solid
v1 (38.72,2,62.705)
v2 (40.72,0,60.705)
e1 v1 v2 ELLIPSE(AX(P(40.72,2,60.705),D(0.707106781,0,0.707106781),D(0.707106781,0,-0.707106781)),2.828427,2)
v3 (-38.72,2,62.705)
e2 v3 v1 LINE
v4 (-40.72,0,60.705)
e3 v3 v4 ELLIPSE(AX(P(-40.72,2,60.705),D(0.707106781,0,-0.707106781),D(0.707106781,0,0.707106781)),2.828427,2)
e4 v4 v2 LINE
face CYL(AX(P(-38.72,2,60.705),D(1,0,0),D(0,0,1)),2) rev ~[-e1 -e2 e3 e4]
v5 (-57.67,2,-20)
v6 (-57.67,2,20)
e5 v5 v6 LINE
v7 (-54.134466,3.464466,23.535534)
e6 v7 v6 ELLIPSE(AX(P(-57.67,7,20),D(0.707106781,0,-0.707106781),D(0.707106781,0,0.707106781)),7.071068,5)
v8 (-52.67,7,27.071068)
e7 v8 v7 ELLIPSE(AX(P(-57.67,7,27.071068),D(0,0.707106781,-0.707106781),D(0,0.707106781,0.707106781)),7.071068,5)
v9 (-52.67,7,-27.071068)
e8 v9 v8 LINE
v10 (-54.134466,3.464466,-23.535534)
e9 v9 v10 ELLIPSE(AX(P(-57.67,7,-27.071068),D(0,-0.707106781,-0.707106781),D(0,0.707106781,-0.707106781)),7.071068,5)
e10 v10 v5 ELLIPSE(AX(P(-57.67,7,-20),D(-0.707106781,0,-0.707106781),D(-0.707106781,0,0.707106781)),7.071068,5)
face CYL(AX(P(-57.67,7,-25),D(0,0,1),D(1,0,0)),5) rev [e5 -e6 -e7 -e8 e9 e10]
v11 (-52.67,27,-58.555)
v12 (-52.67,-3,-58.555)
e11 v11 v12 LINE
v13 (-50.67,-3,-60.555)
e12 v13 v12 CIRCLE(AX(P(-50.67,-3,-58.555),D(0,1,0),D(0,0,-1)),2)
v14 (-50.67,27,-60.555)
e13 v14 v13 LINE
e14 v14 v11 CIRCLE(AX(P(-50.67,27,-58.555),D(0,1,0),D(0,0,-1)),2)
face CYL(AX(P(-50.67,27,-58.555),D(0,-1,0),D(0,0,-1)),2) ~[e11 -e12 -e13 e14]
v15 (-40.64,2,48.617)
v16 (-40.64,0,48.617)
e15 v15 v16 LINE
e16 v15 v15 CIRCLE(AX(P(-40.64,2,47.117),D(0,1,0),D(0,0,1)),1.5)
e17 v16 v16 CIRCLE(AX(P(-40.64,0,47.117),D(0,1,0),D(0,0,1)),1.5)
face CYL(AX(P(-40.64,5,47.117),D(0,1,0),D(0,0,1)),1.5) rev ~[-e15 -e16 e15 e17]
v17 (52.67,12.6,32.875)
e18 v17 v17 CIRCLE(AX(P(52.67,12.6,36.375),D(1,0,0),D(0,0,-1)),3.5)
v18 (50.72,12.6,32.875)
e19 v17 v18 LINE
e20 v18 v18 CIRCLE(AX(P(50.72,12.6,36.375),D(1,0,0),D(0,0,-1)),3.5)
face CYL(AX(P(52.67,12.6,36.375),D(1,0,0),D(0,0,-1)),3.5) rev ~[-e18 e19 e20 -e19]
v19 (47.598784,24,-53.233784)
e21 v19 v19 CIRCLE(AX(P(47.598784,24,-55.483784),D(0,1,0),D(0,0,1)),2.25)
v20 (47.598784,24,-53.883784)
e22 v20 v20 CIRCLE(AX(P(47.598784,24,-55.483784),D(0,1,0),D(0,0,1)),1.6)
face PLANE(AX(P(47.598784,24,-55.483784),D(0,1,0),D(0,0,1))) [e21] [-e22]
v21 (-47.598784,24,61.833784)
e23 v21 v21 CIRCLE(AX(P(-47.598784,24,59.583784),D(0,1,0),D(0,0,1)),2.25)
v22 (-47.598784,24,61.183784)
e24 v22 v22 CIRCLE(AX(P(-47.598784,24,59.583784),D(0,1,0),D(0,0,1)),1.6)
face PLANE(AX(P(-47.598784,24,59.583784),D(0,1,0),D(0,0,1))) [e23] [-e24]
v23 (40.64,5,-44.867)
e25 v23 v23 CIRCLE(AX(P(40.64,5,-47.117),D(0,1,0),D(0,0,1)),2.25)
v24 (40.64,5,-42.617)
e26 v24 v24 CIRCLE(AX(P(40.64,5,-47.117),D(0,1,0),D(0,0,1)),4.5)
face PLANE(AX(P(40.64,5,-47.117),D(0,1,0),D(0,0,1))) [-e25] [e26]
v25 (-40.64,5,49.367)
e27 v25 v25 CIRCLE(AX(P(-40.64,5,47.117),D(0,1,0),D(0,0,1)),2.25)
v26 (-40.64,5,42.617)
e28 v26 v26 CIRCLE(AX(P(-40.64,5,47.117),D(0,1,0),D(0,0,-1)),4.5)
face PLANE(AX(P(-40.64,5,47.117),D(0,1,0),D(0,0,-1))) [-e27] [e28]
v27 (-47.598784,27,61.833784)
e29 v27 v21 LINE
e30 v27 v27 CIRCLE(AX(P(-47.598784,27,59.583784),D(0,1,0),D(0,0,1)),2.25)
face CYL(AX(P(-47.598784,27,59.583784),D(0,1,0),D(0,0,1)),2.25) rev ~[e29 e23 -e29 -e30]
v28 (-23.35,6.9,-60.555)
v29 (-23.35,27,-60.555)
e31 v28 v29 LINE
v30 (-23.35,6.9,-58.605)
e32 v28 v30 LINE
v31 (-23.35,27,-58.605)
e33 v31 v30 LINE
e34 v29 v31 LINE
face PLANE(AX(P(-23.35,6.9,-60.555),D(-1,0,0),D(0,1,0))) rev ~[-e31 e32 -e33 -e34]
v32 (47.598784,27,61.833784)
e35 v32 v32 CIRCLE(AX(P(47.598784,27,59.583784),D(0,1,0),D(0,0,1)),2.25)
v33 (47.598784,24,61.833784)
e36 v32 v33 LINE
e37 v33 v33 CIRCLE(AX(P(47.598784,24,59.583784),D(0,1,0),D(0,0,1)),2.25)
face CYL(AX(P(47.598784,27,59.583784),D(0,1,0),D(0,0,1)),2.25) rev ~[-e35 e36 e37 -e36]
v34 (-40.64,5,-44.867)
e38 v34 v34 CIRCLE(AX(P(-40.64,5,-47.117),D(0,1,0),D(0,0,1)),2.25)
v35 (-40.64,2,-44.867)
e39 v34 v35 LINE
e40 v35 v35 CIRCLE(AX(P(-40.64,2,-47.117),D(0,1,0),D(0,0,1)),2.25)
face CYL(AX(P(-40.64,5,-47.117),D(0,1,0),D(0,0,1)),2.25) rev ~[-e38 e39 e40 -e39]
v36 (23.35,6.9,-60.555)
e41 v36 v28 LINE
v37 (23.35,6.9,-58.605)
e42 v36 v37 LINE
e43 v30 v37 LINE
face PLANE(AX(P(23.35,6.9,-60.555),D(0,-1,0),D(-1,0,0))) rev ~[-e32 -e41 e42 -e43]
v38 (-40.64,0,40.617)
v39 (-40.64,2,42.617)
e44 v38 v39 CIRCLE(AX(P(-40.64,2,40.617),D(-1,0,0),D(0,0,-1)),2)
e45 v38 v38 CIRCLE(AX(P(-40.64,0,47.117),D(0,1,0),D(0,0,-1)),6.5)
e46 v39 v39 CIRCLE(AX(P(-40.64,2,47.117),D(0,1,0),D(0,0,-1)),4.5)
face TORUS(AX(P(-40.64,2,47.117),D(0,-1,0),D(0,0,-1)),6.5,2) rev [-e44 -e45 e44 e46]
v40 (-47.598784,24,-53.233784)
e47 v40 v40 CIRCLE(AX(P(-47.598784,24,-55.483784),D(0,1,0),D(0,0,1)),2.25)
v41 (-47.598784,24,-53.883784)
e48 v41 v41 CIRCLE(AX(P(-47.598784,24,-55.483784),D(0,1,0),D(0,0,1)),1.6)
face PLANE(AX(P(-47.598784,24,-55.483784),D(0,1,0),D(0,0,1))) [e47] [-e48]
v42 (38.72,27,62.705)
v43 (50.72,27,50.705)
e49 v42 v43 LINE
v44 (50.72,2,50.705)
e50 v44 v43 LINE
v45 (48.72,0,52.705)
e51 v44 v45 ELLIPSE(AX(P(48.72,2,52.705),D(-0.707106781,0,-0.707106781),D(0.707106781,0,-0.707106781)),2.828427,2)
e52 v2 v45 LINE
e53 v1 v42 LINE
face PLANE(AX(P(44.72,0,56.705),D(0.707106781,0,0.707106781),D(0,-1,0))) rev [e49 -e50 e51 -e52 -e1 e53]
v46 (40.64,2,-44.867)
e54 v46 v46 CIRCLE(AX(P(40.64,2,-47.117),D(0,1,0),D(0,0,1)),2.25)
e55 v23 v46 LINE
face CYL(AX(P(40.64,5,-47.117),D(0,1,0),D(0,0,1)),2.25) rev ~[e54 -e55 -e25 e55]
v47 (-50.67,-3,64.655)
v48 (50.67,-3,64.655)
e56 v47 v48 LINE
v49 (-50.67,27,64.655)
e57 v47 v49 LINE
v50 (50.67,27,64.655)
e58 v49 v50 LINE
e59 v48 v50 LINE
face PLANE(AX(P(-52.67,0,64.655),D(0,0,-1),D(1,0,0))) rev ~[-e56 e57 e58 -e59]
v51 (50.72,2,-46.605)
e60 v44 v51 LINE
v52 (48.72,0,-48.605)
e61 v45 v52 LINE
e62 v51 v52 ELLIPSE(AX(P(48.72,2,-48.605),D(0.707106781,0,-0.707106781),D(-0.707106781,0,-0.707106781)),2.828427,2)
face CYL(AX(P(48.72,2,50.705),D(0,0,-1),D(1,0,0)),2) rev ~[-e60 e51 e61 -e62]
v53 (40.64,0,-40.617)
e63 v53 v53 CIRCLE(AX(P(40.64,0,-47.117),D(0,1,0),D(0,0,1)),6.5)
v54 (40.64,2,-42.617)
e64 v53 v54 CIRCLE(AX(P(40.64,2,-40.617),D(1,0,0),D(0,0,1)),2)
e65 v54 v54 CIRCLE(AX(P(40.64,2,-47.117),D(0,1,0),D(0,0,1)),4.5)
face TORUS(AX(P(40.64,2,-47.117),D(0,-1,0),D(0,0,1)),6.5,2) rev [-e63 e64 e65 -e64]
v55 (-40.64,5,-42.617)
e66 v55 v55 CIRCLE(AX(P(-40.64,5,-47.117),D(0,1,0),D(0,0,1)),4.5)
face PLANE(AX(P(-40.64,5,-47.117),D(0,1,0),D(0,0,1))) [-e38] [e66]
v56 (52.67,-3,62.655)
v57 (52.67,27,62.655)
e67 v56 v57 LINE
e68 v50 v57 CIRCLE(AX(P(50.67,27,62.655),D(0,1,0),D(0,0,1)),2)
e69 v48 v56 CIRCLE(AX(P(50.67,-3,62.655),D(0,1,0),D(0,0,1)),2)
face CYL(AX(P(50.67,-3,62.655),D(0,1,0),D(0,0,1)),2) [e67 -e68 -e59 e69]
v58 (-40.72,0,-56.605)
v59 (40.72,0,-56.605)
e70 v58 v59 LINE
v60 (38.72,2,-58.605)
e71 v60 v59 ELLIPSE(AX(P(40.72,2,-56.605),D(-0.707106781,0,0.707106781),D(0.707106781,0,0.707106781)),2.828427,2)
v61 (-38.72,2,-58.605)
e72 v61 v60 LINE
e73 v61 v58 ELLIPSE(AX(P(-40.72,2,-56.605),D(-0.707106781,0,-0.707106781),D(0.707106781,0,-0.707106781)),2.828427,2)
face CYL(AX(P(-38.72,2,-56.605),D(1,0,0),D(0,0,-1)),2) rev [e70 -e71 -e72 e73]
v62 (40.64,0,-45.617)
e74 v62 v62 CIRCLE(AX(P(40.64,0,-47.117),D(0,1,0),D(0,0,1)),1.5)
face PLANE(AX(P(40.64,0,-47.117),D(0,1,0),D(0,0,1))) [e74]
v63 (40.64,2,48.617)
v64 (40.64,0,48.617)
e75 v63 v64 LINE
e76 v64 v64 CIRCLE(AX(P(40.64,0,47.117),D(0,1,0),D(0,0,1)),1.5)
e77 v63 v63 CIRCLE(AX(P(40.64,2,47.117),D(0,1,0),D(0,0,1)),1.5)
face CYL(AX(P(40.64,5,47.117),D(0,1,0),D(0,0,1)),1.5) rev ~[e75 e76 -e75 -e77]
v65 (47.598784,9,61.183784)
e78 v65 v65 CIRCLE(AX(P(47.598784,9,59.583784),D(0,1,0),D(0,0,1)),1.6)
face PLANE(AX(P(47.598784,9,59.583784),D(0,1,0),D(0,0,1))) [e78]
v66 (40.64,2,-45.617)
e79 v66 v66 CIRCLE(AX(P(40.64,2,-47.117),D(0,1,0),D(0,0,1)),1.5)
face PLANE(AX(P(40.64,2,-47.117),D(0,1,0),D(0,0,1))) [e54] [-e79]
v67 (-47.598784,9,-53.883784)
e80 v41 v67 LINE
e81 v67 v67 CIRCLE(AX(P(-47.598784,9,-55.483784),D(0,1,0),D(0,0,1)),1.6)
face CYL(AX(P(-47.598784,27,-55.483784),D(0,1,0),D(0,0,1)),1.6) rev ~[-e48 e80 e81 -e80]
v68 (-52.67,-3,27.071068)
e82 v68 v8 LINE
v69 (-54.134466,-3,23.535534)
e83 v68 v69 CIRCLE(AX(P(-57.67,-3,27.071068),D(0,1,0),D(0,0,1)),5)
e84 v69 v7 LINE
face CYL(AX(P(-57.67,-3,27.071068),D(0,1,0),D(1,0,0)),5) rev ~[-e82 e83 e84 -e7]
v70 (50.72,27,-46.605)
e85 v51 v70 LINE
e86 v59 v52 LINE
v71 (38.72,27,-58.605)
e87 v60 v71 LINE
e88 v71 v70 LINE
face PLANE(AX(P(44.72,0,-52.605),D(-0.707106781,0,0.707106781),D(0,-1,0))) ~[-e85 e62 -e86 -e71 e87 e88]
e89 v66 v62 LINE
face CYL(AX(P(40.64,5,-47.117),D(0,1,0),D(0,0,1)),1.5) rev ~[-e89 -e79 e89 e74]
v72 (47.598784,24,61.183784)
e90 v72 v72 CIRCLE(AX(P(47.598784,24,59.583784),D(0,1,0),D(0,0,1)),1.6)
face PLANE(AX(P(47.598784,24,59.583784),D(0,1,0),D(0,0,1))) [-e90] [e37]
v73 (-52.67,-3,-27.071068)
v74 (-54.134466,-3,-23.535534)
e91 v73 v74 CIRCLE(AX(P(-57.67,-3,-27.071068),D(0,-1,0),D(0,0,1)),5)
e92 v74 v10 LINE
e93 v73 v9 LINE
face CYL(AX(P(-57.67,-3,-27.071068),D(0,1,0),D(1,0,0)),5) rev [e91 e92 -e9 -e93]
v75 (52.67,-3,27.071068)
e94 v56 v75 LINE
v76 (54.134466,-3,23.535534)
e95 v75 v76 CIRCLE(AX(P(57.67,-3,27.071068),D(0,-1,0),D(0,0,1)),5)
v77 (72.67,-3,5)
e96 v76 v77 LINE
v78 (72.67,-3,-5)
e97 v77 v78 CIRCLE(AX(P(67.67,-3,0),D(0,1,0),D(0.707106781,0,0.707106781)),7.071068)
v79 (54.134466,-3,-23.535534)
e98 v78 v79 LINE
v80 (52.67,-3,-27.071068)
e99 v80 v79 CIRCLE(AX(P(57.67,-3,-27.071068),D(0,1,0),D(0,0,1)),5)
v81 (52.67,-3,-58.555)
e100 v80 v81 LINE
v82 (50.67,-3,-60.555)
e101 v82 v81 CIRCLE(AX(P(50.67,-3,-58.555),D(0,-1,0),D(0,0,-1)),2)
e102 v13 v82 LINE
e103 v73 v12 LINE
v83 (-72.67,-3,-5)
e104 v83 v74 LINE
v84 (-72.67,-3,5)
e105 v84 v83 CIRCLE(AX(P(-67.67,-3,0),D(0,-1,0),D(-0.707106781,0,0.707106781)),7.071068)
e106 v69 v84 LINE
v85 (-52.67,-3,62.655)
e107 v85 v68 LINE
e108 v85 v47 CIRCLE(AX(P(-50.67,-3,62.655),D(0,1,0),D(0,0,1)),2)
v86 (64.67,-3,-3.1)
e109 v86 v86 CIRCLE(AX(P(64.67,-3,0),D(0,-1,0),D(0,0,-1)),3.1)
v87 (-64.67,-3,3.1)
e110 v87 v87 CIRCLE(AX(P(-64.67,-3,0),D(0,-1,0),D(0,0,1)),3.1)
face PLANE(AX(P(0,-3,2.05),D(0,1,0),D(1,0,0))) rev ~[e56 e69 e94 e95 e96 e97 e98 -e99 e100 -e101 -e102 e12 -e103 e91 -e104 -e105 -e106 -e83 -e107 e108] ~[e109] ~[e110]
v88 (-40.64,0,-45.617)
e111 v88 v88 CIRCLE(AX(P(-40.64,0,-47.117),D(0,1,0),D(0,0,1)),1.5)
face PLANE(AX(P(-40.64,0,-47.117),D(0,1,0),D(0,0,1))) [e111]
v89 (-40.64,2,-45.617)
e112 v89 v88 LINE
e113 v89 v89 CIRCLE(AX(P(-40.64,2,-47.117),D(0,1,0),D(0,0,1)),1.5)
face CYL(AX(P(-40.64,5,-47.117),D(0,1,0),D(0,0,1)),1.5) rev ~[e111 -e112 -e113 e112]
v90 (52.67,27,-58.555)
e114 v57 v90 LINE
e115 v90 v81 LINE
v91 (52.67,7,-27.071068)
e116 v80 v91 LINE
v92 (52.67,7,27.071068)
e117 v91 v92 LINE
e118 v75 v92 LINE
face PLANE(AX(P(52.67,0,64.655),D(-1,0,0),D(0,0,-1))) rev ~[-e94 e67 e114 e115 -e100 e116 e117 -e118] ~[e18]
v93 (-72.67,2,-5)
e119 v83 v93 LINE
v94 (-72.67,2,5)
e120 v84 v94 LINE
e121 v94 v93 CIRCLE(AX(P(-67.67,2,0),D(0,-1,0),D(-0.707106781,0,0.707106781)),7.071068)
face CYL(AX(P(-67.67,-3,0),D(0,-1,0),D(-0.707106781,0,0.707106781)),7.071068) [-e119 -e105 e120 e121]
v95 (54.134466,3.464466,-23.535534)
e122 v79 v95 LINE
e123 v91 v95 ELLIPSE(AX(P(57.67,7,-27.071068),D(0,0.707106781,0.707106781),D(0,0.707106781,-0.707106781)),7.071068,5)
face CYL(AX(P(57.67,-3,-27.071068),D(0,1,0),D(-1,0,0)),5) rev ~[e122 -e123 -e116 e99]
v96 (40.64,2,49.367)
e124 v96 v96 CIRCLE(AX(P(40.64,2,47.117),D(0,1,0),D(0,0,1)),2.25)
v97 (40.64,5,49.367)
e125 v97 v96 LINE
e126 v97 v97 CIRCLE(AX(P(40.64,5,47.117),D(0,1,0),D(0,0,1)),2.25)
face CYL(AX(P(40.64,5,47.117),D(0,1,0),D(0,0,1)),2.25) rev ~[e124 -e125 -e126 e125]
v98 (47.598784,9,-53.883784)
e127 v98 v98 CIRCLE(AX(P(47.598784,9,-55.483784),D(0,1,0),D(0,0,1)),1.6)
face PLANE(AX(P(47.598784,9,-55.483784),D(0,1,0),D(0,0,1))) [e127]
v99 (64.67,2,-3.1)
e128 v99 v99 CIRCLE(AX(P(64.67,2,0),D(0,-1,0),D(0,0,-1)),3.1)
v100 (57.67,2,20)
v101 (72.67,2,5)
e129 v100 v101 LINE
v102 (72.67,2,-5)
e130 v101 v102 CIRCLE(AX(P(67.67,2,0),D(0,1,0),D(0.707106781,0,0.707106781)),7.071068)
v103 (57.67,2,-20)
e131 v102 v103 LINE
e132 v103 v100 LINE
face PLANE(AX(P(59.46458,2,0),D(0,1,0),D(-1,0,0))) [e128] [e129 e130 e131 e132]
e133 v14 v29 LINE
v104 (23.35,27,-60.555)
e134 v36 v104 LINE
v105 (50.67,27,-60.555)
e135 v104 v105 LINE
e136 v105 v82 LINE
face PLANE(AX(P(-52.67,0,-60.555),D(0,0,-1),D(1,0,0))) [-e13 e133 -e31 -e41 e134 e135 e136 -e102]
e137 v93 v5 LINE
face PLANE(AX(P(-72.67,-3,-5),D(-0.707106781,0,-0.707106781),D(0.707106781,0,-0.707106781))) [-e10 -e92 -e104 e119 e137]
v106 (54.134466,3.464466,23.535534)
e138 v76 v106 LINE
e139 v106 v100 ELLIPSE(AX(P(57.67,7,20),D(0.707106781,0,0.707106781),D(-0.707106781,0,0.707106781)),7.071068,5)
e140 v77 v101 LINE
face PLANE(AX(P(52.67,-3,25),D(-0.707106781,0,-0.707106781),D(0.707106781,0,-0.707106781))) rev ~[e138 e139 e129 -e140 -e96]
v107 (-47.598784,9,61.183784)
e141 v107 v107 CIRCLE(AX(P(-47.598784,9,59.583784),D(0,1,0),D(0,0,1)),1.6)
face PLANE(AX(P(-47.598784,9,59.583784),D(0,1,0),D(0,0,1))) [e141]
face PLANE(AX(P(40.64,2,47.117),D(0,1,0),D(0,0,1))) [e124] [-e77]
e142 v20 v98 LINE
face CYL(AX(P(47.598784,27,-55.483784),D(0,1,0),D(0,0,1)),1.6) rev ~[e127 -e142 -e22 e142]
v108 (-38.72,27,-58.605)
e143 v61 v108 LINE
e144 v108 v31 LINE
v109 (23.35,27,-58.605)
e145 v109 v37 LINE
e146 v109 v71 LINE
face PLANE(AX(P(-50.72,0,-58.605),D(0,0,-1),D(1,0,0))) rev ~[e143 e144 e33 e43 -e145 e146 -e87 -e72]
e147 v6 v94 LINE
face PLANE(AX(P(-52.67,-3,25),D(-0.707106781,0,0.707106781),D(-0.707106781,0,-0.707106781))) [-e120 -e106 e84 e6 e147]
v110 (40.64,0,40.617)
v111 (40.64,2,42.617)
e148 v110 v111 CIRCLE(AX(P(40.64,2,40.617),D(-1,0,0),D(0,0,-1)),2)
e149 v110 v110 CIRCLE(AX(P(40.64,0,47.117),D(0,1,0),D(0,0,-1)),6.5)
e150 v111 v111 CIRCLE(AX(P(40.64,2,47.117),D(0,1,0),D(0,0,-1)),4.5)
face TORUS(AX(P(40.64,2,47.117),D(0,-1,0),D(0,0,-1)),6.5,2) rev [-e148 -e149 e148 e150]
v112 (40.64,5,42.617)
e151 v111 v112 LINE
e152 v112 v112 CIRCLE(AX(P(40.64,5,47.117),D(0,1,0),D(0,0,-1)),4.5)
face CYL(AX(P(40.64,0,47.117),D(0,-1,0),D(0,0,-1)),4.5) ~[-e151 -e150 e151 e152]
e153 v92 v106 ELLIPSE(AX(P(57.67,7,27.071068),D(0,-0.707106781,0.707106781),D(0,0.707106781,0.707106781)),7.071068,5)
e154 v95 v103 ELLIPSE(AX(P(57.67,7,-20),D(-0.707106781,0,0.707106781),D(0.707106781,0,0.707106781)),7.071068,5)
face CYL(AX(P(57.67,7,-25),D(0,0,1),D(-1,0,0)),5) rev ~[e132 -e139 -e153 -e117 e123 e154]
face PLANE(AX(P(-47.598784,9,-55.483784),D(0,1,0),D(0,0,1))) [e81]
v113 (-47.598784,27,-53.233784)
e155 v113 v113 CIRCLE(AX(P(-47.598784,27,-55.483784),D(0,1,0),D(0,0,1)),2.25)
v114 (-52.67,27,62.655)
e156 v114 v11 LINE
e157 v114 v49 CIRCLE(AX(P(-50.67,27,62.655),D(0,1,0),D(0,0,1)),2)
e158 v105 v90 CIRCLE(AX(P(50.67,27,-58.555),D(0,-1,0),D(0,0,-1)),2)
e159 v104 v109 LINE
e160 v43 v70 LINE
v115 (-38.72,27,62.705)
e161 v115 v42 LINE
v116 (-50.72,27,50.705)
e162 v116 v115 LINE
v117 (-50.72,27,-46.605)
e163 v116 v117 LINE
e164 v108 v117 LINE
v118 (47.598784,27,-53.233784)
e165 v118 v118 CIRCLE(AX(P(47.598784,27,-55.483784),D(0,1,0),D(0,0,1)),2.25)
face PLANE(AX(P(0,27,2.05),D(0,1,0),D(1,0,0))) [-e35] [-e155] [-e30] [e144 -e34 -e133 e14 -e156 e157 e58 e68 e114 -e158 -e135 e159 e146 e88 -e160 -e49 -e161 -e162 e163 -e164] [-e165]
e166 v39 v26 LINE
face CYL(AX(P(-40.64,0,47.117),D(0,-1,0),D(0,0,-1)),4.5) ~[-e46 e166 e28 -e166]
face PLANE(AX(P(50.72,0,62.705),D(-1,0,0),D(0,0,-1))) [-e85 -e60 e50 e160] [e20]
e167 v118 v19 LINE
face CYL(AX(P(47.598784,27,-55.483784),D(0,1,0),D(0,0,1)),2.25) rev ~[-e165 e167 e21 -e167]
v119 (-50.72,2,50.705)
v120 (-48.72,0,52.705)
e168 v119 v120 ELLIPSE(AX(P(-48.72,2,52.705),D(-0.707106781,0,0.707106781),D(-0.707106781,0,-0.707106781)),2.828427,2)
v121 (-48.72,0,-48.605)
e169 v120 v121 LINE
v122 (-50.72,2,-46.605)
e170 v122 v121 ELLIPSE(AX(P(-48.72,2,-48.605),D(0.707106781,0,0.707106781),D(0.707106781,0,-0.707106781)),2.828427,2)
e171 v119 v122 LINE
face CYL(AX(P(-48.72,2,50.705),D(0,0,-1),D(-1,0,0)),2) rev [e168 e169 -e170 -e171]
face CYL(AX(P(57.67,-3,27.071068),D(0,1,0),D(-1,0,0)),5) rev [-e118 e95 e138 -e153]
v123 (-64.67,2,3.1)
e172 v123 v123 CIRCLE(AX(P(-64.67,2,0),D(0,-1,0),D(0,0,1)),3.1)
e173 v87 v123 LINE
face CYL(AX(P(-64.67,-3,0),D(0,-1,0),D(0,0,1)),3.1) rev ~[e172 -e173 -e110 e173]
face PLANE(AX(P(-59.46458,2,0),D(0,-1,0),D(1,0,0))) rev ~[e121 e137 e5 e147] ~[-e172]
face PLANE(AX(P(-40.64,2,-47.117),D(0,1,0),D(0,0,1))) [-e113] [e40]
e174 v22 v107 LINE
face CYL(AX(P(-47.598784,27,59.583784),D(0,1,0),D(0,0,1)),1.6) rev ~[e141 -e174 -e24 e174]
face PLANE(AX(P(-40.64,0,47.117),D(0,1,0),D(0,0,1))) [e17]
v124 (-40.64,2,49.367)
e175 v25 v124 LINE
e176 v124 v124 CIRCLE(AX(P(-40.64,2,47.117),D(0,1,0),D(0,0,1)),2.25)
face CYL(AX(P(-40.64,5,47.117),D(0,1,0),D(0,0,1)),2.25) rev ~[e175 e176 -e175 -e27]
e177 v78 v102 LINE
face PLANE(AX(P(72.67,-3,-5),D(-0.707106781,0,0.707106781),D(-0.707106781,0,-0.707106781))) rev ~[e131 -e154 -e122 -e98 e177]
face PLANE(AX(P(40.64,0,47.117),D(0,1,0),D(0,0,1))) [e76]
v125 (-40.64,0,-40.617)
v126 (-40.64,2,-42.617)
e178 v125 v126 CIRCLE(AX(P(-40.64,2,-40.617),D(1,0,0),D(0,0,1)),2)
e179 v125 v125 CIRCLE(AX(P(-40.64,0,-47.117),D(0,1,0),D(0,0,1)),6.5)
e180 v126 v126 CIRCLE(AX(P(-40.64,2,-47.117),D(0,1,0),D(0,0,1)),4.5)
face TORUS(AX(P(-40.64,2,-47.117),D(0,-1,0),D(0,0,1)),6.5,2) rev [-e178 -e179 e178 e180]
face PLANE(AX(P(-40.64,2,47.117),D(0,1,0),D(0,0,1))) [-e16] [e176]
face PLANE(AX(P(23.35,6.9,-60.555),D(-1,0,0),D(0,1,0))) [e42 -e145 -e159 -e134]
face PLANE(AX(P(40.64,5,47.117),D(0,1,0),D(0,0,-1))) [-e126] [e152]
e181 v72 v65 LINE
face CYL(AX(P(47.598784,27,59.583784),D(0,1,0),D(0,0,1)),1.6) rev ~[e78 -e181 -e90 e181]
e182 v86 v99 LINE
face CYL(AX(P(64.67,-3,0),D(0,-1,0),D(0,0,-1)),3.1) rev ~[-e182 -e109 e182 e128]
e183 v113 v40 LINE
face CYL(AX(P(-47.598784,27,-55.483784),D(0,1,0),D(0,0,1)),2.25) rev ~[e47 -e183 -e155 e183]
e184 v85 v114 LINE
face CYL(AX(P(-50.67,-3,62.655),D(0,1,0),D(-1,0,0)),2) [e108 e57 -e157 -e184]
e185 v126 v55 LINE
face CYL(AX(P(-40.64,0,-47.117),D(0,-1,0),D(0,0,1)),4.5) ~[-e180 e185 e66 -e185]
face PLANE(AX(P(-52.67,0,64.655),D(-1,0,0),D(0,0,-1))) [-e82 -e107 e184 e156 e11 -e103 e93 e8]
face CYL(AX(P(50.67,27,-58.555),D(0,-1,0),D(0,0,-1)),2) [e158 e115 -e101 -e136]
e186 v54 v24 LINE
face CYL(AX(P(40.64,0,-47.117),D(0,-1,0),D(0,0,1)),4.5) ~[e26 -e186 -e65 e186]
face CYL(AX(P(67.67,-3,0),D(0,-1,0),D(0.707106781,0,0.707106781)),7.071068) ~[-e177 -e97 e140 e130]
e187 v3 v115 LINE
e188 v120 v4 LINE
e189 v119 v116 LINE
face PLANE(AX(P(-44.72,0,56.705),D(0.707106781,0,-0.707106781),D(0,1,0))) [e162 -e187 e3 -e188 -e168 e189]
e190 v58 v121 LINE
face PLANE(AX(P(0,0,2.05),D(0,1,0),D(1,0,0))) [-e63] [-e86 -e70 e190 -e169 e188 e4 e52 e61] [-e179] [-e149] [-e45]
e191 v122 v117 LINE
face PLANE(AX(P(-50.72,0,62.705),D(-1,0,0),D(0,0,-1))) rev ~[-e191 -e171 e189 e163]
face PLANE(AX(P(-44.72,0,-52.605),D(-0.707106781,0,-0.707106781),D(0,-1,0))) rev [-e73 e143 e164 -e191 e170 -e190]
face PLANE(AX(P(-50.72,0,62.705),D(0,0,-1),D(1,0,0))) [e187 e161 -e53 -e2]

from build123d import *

# Parameters (mm, degrees)
ESQUISSE2_W              = 105.34
ESQUISSE2_H              = 125.21
ESQUISSE2_W_2            = 101.44
ESQUISSE2_H_2            = 121.31
BASE_DEPTH               = 3
ESQUISSE3_R              = 4.5
SUPPORT_PCB_DEPTH        = 5
ESQUISSE4_R              = 2.25
ESQUISSE4_R_2            = 1.5
INSERT_M3_PCB_DEPTH      = 3
ESQUISSE4_3_R            = 1.5
PASSAGE_M3_PCB_DEPTH     = 5
ESQUISSE2_4_W            = 105.34
ESQUISSE2_4_H            = 125.21
ESQUISSE2_4_W_2          = 101.44
ESQUISSE2_4_H_2          = 121.31
WALLS_DEPTH              = 27
OUVERTURE_CONN_CMC_REACH = 140.494
ESQUISSE5_W              = 46.7
ESQUISSE5_H              = 20.1
CHANFREIN1_SIZE          = 12
CONG_1_R                 = 2
ESQUISSE6_R              = 2.25
INSERT_M3_BOX_DEPTH      = 3
ESQUISSE6_3_R            = 1.6
PASSAGE_M3_BOX_DEPTH     = 18
ESQUISSE10_R             = 3.1
BOSS_EXTRU_2_DEPTH       = 5
CONG_4_R                 = 5
PASSAGE_MAP_REACH        = 147.406
ESQUISSE11_R             = 3.5


with BuildPart() as part:
    # Esquisse2 → Base (new body)
    # profile 1 of 2: a face of its own
    with BuildSketch(Plane(origin=(0, 0, 0), x_dir=(1, 0, 0), z_dir=(0, 1, 0))):
        with Locations((0, -2.05)):
            Rectangle(ESQUISSE2_W, ESQUISSE2_H)
        with Locations((0, -2.05)):
            Rectangle(ESQUISSE2_W_2, ESQUISSE2_H_2, mode=Mode.SUBTRACT)
    # profile 2 of 2: a face of its own
    with BuildSketch(Plane(origin=(0, 0, 0), x_dir=(1, 0, 0), z_dir=(0, 1, 0))):
        with Locations((0, -2.05)):
            Rectangle(ESQUISSE2_W_2, ESQUISSE2_H_2)
    extrude(amount=-BASE_DEPTH)

    # Esquisse3 → Support_PCB (add)
    with BuildSketch(Plane(origin=(0, 0, 0), x_dir=(1, 0, 0), z_dir=(0, 1, 0))):
        with Locations(Location((-40.64, 47.117, 0), (0, 0, 270))):
            Circle(ESQUISSE3_R)
        with Locations(Location((40.64, 47.117, 0), (0, 0, 270))):
            Circle(ESQUISSE3_R)
        with Locations(Location((-40.64, -47.117, 0), (0, 0, 90))):
            Circle(ESQUISSE3_R)
        with Locations(Location((40.64, -47.117, 0), (0, 0, 90))):
            Circle(ESQUISSE3_R)
    extrude(amount=SUPPORT_PCB_DEPTH)

    # Esquisse4 → Insert_M3_PCB (cut)
    # profile 1 of 8: a face of its own
    with BuildSketch(Plane(origin=(0, 5, 0), x_dir=(1, 0, 0), z_dir=(0, 1, 0))):
        with Locations(Location((-40.64, 47.117, 0), (0, 0, 270))):
            Circle(ESQUISSE4_R)
        with Locations((-40.64, 47.117)):
            Circle(ESQUISSE4_R_2, mode=Mode.SUBTRACT)
    # profile 2 of 8: a face of its own
    with BuildSketch(Plane(origin=(0, 5, 0), x_dir=(1, 0, 0), z_dir=(0, 1, 0))):
        with Locations((-40.64, 47.117)):
            Circle(ESQUISSE4_R_2)
    # profile 3 of 8: a face of its own
    with BuildSketch(Plane(origin=(0, 5, 0), x_dir=(1, 0, 0), z_dir=(0, 1, 0))):
        with Locations(Location((40.64, 47.117, 0), (0, 0, 270))):
            Circle(ESQUISSE4_R)
        with Locations((40.64, 47.117)):
            Circle(ESQUISSE4_R_2, mode=Mode.SUBTRACT)
    # profile 4 of 8: a face of its own
    with BuildSketch(Plane(origin=(0, 5, 0), x_dir=(1, 0, 0), z_dir=(0, 1, 0))):
        with Locations((40.64, 47.117)):
            Circle(ESQUISSE4_R_2)
    # profile 5 of 8: a face of its own
    with BuildSketch(Plane(origin=(0, 5, 0), x_dir=(1, 0, 0), z_dir=(0, 1, 0))):
        with Locations(Location((40.64, -47.117, 0), (0, 0, 270))):
            Circle(ESQUISSE4_R)
        with Locations((40.64, -47.117)):
            Circle(ESQUISSE4_R_2, mode=Mode.SUBTRACT)
    # profile 6 of 8: a face of its own
    with BuildSketch(Plane(origin=(0, 5, 0), x_dir=(1, 0, 0), z_dir=(0, 1, 0))):
        with Locations((40.64, -47.117)):
            Circle(ESQUISSE4_R_2)
    # profile 7 of 8: a face of its own
    with BuildSketch(Plane(origin=(0, 5, 0), x_dir=(1, 0, 0), z_dir=(0, 1, 0))):
        with Locations(Location((-40.64, -47.117, 0), (0, 0, 270))):
            Circle(ESQUISSE4_R)
        with Locations((-40.64, -47.117)):
            Circle(ESQUISSE4_R_2, mode=Mode.SUBTRACT)
    # profile 8 of 8: a face of its own
    with BuildSketch(Plane(origin=(0, 5, 0), x_dir=(1, 0, 0), z_dir=(0, 1, 0))):
        with Locations((-40.64, -47.117)):
            Circle(ESQUISSE4_R_2)
    extrude(amount=-INSERT_M3_PCB_DEPTH, mode=Mode.SUBTRACT)

    # Esquisse4<3> → Passage M3_PCB (cut)
    with BuildSketch(Plane(origin=(0, 5, 0), x_dir=(1, 0, 0), z_dir=(0, 1, 0))):
        with Locations(Location((-40.64, -47.117, 0), (0, 0, 270))):
            Circle(ESQUISSE4_3_R)
        with Locations(Location((40.64, -47.117, 0), (0, 0, 270))):
            Circle(ESQUISSE4_3_R)
        with Locations(Location((40.64, 47.117, 0), (0, 0, 270))):
            Circle(ESQUISSE4_3_R)
        with Locations(Location((-40.64, 47.117, 0), (0, 0, 270))):
            Circle(ESQUISSE4_3_R)
    extrude(amount=-PASSAGE_M3_PCB_DEPTH, mode=Mode.SUBTRACT)

    # Esquisse2<4> → Walls (add)
    with BuildSketch(Plane(origin=(0, 0, 0), x_dir=(1, 0, 0), z_dir=(0, 1, 0))):
        with Locations((0, -2.05)):
            Rectangle(ESQUISSE2_4_W, ESQUISSE2_4_H)
        with Locations((0, -2.05)):
            Rectangle(ESQUISSE2_4_W_2, ESQUISSE2_4_H_2, mode=Mode.SUBTRACT)
    extrude(amount=WALLS_DEPTH)

    # Esquisse5 → Ouverture_Conn_CMC (cut, up to next)
    with BuildSketch(Plane(origin=(0, 0, -60.555), x_dir=(-1, 0, 0), z_dir=(0, 0, -1)), mode=Mode.PRIVATE) as ouverture_conn_cmc_sk1:
        with Locations((0, 16.95)):
            Rectangle(ESQUISSE5_W, ESQUISSE5_H)
    ouverture_conn_cmc_tool1 = extrude(ouverture_conn_cmc_sk1.sketch, amount=-OUVERTURE_CONN_CMC_REACH, mode=Mode.PRIVATE) & part.part
    add(ouverture_conn_cmc_tool1.solids().sort_by_distance((0, 16.95, -60.555))[0], mode=Mode.SUBTRACT)

    # Chanfrein1
    chanfrein1_edges = [part.edges().sort_by_distance(p)[0] for p in [
        (-50.72, 13.5, -58.605),
        (50.72, 13.5, -58.605),
        (50.72, 13.5, 62.705),
        (-50.72, 13.5, 62.705),
    ]]
    chamfer(chanfrein1_edges, length=CHANFREIN1_SIZE)

    # Congé1
    cong_1_edges = [part.edges().sort_by_distance(p)[0] for p in [
        (0, 0, -58.605),
        (50.72, 0, 2.05),
        (-50.72, 0, 2.05),
        (0, 0, 62.705),
        (-40.64, 0, -51.617),
        (40.64, 0, -51.617),
        (-40.64, 0, 51.617),
        (40.64, 0, 51.617),
        (52.67, 12, -60.555),
        (52.67, 12, 64.655),
        (-52.67, 12, 64.655),
        (-52.67, 12, -60.555),
    ]]
    fillet(cong_1_edges, radius=CONG_1_R)

    # Esquisse6 → Insert_M3_Box (cut)
    with BuildSketch(Plane(origin=(0, 27, 0), x_dir=(1, 0, 0), z_dir=(0, 1, 0))):
        with Locations(Location((-47.598784258, 55.483784258, 0), (0, 0, 270))):
            Circle(ESQUISSE6_R)
        with Locations(Location((-47.598784258, -59.583784258, 0), (0, 0, 270))):
            Circle(ESQUISSE6_R)
        with Locations(Location((47.598784258, 55.483784258, 0), (0, 0, 270))):
            Circle(ESQUISSE6_R)
        with Locations(Location((47.598784258, -59.583784258, 0), (0, 0, 270))):
            Circle(ESQUISSE6_R)
    extrude(amount=-INSERT_M3_BOX_DEPTH, mode=Mode.SUBTRACT)

    # Esquisse6<3> → Passage_M3_Box (cut)
    with BuildSketch(Plane(origin=(0, 27, 0), x_dir=(1, 0, 0), z_dir=(0, 1, 0))):
        with Locations(Location((-47.598784258, 55.483784258, 0), (0, 0, 270))):
            Circle(ESQUISSE6_3_R)
        with Locations(Location((-47.598784258, -59.583784258, 0), (0, 0, 270))):
            Circle(ESQUISSE6_3_R)
        with Locations(Location((47.598784258, 55.483784258, 0), (0, 0, 270))):
            Circle(ESQUISSE6_3_R)
        with Locations(Location((47.598784258, -59.583784258, 0), (0, 0, 270))):
            Circle(ESQUISSE6_3_R)
    extrude(amount=-PASSAGE_M3_BOX_DEPTH, mode=Mode.SUBTRACT)

    # Esquisse10 → Boss.-Extru.2 (add)
    # profile 1 of 2: a face of its own
    with BuildSketch(Plane.XZ.offset(3)):
        with BuildLine():
            Line((52.67, 25), (72.67, 5))
            ThreePointArc((72.67, 5), (74.741067812, 0), (72.67, -5))
            Line((72.67, -5), (52.67, -25))
            Line((52.67, -25), (52.67, 25))
        make_face()
        with Locations(Location((64.67, 0, 0), (0, 0, 270))):
            Circle(ESQUISSE10_R, mode=Mode.SUBTRACT)
    # profile 2 of 2: a face of its own
    with BuildSketch(Plane.XZ.offset(3)):
        with BuildLine():
            Line((-52.67, 25), (-72.67, 5))
            ThreePointArc((-72.67, 5), (-74.741067812, 0), (-72.67, -5))
            Line((-72.67, -5), (-52.67, -25))
            Line((-52.67, -25), (-52.67, 25))
        make_face()
        with Locations(Location((-64.67, 0, 0), (0, 0, 90))):
            Circle(ESQUISSE10_R, mode=Mode.SUBTRACT)
    extrude(amount=-BOSS_EXTRU_2_DEPTH)

    # Congé4
    cong_4_edges = [part.edges().sort_by_distance(p)[0] for p in [
        (52.67, 2, 0),
        (52.67, -0.5, -25),
        (52.67, -0.5, 25),
        (-52.67, 2, 0),
        (-52.67, -0.5, 25),
        (-52.67, -0.5, -25),
    ]]
    fillet(cong_4_edges, radius=CONG_4_R)

    # Esquisse11 → Passage_MAP (cut, up to next)
    with BuildSketch(Plane(origin=(52.67, 0, 0), x_dir=(0, 0, -1), z_dir=(1, 0, 0)), mode=Mode.PRIVATE) as passage_map_sk1:
        with Locations((-36.375, 12.6)):
            Circle(ESQUISSE11_R)
    passage_map_tool1 = extrude(passage_map_sk1.sketch, amount=-PASSAGE_MAP_REACH, mode=Mode.PRIVATE) & part.part
    add(passage_map_tool1.solids().sort_by_distance((52.67, 12.6, 36.375))[0], mode=Mode.SUBTRACT)


solid = part.part
